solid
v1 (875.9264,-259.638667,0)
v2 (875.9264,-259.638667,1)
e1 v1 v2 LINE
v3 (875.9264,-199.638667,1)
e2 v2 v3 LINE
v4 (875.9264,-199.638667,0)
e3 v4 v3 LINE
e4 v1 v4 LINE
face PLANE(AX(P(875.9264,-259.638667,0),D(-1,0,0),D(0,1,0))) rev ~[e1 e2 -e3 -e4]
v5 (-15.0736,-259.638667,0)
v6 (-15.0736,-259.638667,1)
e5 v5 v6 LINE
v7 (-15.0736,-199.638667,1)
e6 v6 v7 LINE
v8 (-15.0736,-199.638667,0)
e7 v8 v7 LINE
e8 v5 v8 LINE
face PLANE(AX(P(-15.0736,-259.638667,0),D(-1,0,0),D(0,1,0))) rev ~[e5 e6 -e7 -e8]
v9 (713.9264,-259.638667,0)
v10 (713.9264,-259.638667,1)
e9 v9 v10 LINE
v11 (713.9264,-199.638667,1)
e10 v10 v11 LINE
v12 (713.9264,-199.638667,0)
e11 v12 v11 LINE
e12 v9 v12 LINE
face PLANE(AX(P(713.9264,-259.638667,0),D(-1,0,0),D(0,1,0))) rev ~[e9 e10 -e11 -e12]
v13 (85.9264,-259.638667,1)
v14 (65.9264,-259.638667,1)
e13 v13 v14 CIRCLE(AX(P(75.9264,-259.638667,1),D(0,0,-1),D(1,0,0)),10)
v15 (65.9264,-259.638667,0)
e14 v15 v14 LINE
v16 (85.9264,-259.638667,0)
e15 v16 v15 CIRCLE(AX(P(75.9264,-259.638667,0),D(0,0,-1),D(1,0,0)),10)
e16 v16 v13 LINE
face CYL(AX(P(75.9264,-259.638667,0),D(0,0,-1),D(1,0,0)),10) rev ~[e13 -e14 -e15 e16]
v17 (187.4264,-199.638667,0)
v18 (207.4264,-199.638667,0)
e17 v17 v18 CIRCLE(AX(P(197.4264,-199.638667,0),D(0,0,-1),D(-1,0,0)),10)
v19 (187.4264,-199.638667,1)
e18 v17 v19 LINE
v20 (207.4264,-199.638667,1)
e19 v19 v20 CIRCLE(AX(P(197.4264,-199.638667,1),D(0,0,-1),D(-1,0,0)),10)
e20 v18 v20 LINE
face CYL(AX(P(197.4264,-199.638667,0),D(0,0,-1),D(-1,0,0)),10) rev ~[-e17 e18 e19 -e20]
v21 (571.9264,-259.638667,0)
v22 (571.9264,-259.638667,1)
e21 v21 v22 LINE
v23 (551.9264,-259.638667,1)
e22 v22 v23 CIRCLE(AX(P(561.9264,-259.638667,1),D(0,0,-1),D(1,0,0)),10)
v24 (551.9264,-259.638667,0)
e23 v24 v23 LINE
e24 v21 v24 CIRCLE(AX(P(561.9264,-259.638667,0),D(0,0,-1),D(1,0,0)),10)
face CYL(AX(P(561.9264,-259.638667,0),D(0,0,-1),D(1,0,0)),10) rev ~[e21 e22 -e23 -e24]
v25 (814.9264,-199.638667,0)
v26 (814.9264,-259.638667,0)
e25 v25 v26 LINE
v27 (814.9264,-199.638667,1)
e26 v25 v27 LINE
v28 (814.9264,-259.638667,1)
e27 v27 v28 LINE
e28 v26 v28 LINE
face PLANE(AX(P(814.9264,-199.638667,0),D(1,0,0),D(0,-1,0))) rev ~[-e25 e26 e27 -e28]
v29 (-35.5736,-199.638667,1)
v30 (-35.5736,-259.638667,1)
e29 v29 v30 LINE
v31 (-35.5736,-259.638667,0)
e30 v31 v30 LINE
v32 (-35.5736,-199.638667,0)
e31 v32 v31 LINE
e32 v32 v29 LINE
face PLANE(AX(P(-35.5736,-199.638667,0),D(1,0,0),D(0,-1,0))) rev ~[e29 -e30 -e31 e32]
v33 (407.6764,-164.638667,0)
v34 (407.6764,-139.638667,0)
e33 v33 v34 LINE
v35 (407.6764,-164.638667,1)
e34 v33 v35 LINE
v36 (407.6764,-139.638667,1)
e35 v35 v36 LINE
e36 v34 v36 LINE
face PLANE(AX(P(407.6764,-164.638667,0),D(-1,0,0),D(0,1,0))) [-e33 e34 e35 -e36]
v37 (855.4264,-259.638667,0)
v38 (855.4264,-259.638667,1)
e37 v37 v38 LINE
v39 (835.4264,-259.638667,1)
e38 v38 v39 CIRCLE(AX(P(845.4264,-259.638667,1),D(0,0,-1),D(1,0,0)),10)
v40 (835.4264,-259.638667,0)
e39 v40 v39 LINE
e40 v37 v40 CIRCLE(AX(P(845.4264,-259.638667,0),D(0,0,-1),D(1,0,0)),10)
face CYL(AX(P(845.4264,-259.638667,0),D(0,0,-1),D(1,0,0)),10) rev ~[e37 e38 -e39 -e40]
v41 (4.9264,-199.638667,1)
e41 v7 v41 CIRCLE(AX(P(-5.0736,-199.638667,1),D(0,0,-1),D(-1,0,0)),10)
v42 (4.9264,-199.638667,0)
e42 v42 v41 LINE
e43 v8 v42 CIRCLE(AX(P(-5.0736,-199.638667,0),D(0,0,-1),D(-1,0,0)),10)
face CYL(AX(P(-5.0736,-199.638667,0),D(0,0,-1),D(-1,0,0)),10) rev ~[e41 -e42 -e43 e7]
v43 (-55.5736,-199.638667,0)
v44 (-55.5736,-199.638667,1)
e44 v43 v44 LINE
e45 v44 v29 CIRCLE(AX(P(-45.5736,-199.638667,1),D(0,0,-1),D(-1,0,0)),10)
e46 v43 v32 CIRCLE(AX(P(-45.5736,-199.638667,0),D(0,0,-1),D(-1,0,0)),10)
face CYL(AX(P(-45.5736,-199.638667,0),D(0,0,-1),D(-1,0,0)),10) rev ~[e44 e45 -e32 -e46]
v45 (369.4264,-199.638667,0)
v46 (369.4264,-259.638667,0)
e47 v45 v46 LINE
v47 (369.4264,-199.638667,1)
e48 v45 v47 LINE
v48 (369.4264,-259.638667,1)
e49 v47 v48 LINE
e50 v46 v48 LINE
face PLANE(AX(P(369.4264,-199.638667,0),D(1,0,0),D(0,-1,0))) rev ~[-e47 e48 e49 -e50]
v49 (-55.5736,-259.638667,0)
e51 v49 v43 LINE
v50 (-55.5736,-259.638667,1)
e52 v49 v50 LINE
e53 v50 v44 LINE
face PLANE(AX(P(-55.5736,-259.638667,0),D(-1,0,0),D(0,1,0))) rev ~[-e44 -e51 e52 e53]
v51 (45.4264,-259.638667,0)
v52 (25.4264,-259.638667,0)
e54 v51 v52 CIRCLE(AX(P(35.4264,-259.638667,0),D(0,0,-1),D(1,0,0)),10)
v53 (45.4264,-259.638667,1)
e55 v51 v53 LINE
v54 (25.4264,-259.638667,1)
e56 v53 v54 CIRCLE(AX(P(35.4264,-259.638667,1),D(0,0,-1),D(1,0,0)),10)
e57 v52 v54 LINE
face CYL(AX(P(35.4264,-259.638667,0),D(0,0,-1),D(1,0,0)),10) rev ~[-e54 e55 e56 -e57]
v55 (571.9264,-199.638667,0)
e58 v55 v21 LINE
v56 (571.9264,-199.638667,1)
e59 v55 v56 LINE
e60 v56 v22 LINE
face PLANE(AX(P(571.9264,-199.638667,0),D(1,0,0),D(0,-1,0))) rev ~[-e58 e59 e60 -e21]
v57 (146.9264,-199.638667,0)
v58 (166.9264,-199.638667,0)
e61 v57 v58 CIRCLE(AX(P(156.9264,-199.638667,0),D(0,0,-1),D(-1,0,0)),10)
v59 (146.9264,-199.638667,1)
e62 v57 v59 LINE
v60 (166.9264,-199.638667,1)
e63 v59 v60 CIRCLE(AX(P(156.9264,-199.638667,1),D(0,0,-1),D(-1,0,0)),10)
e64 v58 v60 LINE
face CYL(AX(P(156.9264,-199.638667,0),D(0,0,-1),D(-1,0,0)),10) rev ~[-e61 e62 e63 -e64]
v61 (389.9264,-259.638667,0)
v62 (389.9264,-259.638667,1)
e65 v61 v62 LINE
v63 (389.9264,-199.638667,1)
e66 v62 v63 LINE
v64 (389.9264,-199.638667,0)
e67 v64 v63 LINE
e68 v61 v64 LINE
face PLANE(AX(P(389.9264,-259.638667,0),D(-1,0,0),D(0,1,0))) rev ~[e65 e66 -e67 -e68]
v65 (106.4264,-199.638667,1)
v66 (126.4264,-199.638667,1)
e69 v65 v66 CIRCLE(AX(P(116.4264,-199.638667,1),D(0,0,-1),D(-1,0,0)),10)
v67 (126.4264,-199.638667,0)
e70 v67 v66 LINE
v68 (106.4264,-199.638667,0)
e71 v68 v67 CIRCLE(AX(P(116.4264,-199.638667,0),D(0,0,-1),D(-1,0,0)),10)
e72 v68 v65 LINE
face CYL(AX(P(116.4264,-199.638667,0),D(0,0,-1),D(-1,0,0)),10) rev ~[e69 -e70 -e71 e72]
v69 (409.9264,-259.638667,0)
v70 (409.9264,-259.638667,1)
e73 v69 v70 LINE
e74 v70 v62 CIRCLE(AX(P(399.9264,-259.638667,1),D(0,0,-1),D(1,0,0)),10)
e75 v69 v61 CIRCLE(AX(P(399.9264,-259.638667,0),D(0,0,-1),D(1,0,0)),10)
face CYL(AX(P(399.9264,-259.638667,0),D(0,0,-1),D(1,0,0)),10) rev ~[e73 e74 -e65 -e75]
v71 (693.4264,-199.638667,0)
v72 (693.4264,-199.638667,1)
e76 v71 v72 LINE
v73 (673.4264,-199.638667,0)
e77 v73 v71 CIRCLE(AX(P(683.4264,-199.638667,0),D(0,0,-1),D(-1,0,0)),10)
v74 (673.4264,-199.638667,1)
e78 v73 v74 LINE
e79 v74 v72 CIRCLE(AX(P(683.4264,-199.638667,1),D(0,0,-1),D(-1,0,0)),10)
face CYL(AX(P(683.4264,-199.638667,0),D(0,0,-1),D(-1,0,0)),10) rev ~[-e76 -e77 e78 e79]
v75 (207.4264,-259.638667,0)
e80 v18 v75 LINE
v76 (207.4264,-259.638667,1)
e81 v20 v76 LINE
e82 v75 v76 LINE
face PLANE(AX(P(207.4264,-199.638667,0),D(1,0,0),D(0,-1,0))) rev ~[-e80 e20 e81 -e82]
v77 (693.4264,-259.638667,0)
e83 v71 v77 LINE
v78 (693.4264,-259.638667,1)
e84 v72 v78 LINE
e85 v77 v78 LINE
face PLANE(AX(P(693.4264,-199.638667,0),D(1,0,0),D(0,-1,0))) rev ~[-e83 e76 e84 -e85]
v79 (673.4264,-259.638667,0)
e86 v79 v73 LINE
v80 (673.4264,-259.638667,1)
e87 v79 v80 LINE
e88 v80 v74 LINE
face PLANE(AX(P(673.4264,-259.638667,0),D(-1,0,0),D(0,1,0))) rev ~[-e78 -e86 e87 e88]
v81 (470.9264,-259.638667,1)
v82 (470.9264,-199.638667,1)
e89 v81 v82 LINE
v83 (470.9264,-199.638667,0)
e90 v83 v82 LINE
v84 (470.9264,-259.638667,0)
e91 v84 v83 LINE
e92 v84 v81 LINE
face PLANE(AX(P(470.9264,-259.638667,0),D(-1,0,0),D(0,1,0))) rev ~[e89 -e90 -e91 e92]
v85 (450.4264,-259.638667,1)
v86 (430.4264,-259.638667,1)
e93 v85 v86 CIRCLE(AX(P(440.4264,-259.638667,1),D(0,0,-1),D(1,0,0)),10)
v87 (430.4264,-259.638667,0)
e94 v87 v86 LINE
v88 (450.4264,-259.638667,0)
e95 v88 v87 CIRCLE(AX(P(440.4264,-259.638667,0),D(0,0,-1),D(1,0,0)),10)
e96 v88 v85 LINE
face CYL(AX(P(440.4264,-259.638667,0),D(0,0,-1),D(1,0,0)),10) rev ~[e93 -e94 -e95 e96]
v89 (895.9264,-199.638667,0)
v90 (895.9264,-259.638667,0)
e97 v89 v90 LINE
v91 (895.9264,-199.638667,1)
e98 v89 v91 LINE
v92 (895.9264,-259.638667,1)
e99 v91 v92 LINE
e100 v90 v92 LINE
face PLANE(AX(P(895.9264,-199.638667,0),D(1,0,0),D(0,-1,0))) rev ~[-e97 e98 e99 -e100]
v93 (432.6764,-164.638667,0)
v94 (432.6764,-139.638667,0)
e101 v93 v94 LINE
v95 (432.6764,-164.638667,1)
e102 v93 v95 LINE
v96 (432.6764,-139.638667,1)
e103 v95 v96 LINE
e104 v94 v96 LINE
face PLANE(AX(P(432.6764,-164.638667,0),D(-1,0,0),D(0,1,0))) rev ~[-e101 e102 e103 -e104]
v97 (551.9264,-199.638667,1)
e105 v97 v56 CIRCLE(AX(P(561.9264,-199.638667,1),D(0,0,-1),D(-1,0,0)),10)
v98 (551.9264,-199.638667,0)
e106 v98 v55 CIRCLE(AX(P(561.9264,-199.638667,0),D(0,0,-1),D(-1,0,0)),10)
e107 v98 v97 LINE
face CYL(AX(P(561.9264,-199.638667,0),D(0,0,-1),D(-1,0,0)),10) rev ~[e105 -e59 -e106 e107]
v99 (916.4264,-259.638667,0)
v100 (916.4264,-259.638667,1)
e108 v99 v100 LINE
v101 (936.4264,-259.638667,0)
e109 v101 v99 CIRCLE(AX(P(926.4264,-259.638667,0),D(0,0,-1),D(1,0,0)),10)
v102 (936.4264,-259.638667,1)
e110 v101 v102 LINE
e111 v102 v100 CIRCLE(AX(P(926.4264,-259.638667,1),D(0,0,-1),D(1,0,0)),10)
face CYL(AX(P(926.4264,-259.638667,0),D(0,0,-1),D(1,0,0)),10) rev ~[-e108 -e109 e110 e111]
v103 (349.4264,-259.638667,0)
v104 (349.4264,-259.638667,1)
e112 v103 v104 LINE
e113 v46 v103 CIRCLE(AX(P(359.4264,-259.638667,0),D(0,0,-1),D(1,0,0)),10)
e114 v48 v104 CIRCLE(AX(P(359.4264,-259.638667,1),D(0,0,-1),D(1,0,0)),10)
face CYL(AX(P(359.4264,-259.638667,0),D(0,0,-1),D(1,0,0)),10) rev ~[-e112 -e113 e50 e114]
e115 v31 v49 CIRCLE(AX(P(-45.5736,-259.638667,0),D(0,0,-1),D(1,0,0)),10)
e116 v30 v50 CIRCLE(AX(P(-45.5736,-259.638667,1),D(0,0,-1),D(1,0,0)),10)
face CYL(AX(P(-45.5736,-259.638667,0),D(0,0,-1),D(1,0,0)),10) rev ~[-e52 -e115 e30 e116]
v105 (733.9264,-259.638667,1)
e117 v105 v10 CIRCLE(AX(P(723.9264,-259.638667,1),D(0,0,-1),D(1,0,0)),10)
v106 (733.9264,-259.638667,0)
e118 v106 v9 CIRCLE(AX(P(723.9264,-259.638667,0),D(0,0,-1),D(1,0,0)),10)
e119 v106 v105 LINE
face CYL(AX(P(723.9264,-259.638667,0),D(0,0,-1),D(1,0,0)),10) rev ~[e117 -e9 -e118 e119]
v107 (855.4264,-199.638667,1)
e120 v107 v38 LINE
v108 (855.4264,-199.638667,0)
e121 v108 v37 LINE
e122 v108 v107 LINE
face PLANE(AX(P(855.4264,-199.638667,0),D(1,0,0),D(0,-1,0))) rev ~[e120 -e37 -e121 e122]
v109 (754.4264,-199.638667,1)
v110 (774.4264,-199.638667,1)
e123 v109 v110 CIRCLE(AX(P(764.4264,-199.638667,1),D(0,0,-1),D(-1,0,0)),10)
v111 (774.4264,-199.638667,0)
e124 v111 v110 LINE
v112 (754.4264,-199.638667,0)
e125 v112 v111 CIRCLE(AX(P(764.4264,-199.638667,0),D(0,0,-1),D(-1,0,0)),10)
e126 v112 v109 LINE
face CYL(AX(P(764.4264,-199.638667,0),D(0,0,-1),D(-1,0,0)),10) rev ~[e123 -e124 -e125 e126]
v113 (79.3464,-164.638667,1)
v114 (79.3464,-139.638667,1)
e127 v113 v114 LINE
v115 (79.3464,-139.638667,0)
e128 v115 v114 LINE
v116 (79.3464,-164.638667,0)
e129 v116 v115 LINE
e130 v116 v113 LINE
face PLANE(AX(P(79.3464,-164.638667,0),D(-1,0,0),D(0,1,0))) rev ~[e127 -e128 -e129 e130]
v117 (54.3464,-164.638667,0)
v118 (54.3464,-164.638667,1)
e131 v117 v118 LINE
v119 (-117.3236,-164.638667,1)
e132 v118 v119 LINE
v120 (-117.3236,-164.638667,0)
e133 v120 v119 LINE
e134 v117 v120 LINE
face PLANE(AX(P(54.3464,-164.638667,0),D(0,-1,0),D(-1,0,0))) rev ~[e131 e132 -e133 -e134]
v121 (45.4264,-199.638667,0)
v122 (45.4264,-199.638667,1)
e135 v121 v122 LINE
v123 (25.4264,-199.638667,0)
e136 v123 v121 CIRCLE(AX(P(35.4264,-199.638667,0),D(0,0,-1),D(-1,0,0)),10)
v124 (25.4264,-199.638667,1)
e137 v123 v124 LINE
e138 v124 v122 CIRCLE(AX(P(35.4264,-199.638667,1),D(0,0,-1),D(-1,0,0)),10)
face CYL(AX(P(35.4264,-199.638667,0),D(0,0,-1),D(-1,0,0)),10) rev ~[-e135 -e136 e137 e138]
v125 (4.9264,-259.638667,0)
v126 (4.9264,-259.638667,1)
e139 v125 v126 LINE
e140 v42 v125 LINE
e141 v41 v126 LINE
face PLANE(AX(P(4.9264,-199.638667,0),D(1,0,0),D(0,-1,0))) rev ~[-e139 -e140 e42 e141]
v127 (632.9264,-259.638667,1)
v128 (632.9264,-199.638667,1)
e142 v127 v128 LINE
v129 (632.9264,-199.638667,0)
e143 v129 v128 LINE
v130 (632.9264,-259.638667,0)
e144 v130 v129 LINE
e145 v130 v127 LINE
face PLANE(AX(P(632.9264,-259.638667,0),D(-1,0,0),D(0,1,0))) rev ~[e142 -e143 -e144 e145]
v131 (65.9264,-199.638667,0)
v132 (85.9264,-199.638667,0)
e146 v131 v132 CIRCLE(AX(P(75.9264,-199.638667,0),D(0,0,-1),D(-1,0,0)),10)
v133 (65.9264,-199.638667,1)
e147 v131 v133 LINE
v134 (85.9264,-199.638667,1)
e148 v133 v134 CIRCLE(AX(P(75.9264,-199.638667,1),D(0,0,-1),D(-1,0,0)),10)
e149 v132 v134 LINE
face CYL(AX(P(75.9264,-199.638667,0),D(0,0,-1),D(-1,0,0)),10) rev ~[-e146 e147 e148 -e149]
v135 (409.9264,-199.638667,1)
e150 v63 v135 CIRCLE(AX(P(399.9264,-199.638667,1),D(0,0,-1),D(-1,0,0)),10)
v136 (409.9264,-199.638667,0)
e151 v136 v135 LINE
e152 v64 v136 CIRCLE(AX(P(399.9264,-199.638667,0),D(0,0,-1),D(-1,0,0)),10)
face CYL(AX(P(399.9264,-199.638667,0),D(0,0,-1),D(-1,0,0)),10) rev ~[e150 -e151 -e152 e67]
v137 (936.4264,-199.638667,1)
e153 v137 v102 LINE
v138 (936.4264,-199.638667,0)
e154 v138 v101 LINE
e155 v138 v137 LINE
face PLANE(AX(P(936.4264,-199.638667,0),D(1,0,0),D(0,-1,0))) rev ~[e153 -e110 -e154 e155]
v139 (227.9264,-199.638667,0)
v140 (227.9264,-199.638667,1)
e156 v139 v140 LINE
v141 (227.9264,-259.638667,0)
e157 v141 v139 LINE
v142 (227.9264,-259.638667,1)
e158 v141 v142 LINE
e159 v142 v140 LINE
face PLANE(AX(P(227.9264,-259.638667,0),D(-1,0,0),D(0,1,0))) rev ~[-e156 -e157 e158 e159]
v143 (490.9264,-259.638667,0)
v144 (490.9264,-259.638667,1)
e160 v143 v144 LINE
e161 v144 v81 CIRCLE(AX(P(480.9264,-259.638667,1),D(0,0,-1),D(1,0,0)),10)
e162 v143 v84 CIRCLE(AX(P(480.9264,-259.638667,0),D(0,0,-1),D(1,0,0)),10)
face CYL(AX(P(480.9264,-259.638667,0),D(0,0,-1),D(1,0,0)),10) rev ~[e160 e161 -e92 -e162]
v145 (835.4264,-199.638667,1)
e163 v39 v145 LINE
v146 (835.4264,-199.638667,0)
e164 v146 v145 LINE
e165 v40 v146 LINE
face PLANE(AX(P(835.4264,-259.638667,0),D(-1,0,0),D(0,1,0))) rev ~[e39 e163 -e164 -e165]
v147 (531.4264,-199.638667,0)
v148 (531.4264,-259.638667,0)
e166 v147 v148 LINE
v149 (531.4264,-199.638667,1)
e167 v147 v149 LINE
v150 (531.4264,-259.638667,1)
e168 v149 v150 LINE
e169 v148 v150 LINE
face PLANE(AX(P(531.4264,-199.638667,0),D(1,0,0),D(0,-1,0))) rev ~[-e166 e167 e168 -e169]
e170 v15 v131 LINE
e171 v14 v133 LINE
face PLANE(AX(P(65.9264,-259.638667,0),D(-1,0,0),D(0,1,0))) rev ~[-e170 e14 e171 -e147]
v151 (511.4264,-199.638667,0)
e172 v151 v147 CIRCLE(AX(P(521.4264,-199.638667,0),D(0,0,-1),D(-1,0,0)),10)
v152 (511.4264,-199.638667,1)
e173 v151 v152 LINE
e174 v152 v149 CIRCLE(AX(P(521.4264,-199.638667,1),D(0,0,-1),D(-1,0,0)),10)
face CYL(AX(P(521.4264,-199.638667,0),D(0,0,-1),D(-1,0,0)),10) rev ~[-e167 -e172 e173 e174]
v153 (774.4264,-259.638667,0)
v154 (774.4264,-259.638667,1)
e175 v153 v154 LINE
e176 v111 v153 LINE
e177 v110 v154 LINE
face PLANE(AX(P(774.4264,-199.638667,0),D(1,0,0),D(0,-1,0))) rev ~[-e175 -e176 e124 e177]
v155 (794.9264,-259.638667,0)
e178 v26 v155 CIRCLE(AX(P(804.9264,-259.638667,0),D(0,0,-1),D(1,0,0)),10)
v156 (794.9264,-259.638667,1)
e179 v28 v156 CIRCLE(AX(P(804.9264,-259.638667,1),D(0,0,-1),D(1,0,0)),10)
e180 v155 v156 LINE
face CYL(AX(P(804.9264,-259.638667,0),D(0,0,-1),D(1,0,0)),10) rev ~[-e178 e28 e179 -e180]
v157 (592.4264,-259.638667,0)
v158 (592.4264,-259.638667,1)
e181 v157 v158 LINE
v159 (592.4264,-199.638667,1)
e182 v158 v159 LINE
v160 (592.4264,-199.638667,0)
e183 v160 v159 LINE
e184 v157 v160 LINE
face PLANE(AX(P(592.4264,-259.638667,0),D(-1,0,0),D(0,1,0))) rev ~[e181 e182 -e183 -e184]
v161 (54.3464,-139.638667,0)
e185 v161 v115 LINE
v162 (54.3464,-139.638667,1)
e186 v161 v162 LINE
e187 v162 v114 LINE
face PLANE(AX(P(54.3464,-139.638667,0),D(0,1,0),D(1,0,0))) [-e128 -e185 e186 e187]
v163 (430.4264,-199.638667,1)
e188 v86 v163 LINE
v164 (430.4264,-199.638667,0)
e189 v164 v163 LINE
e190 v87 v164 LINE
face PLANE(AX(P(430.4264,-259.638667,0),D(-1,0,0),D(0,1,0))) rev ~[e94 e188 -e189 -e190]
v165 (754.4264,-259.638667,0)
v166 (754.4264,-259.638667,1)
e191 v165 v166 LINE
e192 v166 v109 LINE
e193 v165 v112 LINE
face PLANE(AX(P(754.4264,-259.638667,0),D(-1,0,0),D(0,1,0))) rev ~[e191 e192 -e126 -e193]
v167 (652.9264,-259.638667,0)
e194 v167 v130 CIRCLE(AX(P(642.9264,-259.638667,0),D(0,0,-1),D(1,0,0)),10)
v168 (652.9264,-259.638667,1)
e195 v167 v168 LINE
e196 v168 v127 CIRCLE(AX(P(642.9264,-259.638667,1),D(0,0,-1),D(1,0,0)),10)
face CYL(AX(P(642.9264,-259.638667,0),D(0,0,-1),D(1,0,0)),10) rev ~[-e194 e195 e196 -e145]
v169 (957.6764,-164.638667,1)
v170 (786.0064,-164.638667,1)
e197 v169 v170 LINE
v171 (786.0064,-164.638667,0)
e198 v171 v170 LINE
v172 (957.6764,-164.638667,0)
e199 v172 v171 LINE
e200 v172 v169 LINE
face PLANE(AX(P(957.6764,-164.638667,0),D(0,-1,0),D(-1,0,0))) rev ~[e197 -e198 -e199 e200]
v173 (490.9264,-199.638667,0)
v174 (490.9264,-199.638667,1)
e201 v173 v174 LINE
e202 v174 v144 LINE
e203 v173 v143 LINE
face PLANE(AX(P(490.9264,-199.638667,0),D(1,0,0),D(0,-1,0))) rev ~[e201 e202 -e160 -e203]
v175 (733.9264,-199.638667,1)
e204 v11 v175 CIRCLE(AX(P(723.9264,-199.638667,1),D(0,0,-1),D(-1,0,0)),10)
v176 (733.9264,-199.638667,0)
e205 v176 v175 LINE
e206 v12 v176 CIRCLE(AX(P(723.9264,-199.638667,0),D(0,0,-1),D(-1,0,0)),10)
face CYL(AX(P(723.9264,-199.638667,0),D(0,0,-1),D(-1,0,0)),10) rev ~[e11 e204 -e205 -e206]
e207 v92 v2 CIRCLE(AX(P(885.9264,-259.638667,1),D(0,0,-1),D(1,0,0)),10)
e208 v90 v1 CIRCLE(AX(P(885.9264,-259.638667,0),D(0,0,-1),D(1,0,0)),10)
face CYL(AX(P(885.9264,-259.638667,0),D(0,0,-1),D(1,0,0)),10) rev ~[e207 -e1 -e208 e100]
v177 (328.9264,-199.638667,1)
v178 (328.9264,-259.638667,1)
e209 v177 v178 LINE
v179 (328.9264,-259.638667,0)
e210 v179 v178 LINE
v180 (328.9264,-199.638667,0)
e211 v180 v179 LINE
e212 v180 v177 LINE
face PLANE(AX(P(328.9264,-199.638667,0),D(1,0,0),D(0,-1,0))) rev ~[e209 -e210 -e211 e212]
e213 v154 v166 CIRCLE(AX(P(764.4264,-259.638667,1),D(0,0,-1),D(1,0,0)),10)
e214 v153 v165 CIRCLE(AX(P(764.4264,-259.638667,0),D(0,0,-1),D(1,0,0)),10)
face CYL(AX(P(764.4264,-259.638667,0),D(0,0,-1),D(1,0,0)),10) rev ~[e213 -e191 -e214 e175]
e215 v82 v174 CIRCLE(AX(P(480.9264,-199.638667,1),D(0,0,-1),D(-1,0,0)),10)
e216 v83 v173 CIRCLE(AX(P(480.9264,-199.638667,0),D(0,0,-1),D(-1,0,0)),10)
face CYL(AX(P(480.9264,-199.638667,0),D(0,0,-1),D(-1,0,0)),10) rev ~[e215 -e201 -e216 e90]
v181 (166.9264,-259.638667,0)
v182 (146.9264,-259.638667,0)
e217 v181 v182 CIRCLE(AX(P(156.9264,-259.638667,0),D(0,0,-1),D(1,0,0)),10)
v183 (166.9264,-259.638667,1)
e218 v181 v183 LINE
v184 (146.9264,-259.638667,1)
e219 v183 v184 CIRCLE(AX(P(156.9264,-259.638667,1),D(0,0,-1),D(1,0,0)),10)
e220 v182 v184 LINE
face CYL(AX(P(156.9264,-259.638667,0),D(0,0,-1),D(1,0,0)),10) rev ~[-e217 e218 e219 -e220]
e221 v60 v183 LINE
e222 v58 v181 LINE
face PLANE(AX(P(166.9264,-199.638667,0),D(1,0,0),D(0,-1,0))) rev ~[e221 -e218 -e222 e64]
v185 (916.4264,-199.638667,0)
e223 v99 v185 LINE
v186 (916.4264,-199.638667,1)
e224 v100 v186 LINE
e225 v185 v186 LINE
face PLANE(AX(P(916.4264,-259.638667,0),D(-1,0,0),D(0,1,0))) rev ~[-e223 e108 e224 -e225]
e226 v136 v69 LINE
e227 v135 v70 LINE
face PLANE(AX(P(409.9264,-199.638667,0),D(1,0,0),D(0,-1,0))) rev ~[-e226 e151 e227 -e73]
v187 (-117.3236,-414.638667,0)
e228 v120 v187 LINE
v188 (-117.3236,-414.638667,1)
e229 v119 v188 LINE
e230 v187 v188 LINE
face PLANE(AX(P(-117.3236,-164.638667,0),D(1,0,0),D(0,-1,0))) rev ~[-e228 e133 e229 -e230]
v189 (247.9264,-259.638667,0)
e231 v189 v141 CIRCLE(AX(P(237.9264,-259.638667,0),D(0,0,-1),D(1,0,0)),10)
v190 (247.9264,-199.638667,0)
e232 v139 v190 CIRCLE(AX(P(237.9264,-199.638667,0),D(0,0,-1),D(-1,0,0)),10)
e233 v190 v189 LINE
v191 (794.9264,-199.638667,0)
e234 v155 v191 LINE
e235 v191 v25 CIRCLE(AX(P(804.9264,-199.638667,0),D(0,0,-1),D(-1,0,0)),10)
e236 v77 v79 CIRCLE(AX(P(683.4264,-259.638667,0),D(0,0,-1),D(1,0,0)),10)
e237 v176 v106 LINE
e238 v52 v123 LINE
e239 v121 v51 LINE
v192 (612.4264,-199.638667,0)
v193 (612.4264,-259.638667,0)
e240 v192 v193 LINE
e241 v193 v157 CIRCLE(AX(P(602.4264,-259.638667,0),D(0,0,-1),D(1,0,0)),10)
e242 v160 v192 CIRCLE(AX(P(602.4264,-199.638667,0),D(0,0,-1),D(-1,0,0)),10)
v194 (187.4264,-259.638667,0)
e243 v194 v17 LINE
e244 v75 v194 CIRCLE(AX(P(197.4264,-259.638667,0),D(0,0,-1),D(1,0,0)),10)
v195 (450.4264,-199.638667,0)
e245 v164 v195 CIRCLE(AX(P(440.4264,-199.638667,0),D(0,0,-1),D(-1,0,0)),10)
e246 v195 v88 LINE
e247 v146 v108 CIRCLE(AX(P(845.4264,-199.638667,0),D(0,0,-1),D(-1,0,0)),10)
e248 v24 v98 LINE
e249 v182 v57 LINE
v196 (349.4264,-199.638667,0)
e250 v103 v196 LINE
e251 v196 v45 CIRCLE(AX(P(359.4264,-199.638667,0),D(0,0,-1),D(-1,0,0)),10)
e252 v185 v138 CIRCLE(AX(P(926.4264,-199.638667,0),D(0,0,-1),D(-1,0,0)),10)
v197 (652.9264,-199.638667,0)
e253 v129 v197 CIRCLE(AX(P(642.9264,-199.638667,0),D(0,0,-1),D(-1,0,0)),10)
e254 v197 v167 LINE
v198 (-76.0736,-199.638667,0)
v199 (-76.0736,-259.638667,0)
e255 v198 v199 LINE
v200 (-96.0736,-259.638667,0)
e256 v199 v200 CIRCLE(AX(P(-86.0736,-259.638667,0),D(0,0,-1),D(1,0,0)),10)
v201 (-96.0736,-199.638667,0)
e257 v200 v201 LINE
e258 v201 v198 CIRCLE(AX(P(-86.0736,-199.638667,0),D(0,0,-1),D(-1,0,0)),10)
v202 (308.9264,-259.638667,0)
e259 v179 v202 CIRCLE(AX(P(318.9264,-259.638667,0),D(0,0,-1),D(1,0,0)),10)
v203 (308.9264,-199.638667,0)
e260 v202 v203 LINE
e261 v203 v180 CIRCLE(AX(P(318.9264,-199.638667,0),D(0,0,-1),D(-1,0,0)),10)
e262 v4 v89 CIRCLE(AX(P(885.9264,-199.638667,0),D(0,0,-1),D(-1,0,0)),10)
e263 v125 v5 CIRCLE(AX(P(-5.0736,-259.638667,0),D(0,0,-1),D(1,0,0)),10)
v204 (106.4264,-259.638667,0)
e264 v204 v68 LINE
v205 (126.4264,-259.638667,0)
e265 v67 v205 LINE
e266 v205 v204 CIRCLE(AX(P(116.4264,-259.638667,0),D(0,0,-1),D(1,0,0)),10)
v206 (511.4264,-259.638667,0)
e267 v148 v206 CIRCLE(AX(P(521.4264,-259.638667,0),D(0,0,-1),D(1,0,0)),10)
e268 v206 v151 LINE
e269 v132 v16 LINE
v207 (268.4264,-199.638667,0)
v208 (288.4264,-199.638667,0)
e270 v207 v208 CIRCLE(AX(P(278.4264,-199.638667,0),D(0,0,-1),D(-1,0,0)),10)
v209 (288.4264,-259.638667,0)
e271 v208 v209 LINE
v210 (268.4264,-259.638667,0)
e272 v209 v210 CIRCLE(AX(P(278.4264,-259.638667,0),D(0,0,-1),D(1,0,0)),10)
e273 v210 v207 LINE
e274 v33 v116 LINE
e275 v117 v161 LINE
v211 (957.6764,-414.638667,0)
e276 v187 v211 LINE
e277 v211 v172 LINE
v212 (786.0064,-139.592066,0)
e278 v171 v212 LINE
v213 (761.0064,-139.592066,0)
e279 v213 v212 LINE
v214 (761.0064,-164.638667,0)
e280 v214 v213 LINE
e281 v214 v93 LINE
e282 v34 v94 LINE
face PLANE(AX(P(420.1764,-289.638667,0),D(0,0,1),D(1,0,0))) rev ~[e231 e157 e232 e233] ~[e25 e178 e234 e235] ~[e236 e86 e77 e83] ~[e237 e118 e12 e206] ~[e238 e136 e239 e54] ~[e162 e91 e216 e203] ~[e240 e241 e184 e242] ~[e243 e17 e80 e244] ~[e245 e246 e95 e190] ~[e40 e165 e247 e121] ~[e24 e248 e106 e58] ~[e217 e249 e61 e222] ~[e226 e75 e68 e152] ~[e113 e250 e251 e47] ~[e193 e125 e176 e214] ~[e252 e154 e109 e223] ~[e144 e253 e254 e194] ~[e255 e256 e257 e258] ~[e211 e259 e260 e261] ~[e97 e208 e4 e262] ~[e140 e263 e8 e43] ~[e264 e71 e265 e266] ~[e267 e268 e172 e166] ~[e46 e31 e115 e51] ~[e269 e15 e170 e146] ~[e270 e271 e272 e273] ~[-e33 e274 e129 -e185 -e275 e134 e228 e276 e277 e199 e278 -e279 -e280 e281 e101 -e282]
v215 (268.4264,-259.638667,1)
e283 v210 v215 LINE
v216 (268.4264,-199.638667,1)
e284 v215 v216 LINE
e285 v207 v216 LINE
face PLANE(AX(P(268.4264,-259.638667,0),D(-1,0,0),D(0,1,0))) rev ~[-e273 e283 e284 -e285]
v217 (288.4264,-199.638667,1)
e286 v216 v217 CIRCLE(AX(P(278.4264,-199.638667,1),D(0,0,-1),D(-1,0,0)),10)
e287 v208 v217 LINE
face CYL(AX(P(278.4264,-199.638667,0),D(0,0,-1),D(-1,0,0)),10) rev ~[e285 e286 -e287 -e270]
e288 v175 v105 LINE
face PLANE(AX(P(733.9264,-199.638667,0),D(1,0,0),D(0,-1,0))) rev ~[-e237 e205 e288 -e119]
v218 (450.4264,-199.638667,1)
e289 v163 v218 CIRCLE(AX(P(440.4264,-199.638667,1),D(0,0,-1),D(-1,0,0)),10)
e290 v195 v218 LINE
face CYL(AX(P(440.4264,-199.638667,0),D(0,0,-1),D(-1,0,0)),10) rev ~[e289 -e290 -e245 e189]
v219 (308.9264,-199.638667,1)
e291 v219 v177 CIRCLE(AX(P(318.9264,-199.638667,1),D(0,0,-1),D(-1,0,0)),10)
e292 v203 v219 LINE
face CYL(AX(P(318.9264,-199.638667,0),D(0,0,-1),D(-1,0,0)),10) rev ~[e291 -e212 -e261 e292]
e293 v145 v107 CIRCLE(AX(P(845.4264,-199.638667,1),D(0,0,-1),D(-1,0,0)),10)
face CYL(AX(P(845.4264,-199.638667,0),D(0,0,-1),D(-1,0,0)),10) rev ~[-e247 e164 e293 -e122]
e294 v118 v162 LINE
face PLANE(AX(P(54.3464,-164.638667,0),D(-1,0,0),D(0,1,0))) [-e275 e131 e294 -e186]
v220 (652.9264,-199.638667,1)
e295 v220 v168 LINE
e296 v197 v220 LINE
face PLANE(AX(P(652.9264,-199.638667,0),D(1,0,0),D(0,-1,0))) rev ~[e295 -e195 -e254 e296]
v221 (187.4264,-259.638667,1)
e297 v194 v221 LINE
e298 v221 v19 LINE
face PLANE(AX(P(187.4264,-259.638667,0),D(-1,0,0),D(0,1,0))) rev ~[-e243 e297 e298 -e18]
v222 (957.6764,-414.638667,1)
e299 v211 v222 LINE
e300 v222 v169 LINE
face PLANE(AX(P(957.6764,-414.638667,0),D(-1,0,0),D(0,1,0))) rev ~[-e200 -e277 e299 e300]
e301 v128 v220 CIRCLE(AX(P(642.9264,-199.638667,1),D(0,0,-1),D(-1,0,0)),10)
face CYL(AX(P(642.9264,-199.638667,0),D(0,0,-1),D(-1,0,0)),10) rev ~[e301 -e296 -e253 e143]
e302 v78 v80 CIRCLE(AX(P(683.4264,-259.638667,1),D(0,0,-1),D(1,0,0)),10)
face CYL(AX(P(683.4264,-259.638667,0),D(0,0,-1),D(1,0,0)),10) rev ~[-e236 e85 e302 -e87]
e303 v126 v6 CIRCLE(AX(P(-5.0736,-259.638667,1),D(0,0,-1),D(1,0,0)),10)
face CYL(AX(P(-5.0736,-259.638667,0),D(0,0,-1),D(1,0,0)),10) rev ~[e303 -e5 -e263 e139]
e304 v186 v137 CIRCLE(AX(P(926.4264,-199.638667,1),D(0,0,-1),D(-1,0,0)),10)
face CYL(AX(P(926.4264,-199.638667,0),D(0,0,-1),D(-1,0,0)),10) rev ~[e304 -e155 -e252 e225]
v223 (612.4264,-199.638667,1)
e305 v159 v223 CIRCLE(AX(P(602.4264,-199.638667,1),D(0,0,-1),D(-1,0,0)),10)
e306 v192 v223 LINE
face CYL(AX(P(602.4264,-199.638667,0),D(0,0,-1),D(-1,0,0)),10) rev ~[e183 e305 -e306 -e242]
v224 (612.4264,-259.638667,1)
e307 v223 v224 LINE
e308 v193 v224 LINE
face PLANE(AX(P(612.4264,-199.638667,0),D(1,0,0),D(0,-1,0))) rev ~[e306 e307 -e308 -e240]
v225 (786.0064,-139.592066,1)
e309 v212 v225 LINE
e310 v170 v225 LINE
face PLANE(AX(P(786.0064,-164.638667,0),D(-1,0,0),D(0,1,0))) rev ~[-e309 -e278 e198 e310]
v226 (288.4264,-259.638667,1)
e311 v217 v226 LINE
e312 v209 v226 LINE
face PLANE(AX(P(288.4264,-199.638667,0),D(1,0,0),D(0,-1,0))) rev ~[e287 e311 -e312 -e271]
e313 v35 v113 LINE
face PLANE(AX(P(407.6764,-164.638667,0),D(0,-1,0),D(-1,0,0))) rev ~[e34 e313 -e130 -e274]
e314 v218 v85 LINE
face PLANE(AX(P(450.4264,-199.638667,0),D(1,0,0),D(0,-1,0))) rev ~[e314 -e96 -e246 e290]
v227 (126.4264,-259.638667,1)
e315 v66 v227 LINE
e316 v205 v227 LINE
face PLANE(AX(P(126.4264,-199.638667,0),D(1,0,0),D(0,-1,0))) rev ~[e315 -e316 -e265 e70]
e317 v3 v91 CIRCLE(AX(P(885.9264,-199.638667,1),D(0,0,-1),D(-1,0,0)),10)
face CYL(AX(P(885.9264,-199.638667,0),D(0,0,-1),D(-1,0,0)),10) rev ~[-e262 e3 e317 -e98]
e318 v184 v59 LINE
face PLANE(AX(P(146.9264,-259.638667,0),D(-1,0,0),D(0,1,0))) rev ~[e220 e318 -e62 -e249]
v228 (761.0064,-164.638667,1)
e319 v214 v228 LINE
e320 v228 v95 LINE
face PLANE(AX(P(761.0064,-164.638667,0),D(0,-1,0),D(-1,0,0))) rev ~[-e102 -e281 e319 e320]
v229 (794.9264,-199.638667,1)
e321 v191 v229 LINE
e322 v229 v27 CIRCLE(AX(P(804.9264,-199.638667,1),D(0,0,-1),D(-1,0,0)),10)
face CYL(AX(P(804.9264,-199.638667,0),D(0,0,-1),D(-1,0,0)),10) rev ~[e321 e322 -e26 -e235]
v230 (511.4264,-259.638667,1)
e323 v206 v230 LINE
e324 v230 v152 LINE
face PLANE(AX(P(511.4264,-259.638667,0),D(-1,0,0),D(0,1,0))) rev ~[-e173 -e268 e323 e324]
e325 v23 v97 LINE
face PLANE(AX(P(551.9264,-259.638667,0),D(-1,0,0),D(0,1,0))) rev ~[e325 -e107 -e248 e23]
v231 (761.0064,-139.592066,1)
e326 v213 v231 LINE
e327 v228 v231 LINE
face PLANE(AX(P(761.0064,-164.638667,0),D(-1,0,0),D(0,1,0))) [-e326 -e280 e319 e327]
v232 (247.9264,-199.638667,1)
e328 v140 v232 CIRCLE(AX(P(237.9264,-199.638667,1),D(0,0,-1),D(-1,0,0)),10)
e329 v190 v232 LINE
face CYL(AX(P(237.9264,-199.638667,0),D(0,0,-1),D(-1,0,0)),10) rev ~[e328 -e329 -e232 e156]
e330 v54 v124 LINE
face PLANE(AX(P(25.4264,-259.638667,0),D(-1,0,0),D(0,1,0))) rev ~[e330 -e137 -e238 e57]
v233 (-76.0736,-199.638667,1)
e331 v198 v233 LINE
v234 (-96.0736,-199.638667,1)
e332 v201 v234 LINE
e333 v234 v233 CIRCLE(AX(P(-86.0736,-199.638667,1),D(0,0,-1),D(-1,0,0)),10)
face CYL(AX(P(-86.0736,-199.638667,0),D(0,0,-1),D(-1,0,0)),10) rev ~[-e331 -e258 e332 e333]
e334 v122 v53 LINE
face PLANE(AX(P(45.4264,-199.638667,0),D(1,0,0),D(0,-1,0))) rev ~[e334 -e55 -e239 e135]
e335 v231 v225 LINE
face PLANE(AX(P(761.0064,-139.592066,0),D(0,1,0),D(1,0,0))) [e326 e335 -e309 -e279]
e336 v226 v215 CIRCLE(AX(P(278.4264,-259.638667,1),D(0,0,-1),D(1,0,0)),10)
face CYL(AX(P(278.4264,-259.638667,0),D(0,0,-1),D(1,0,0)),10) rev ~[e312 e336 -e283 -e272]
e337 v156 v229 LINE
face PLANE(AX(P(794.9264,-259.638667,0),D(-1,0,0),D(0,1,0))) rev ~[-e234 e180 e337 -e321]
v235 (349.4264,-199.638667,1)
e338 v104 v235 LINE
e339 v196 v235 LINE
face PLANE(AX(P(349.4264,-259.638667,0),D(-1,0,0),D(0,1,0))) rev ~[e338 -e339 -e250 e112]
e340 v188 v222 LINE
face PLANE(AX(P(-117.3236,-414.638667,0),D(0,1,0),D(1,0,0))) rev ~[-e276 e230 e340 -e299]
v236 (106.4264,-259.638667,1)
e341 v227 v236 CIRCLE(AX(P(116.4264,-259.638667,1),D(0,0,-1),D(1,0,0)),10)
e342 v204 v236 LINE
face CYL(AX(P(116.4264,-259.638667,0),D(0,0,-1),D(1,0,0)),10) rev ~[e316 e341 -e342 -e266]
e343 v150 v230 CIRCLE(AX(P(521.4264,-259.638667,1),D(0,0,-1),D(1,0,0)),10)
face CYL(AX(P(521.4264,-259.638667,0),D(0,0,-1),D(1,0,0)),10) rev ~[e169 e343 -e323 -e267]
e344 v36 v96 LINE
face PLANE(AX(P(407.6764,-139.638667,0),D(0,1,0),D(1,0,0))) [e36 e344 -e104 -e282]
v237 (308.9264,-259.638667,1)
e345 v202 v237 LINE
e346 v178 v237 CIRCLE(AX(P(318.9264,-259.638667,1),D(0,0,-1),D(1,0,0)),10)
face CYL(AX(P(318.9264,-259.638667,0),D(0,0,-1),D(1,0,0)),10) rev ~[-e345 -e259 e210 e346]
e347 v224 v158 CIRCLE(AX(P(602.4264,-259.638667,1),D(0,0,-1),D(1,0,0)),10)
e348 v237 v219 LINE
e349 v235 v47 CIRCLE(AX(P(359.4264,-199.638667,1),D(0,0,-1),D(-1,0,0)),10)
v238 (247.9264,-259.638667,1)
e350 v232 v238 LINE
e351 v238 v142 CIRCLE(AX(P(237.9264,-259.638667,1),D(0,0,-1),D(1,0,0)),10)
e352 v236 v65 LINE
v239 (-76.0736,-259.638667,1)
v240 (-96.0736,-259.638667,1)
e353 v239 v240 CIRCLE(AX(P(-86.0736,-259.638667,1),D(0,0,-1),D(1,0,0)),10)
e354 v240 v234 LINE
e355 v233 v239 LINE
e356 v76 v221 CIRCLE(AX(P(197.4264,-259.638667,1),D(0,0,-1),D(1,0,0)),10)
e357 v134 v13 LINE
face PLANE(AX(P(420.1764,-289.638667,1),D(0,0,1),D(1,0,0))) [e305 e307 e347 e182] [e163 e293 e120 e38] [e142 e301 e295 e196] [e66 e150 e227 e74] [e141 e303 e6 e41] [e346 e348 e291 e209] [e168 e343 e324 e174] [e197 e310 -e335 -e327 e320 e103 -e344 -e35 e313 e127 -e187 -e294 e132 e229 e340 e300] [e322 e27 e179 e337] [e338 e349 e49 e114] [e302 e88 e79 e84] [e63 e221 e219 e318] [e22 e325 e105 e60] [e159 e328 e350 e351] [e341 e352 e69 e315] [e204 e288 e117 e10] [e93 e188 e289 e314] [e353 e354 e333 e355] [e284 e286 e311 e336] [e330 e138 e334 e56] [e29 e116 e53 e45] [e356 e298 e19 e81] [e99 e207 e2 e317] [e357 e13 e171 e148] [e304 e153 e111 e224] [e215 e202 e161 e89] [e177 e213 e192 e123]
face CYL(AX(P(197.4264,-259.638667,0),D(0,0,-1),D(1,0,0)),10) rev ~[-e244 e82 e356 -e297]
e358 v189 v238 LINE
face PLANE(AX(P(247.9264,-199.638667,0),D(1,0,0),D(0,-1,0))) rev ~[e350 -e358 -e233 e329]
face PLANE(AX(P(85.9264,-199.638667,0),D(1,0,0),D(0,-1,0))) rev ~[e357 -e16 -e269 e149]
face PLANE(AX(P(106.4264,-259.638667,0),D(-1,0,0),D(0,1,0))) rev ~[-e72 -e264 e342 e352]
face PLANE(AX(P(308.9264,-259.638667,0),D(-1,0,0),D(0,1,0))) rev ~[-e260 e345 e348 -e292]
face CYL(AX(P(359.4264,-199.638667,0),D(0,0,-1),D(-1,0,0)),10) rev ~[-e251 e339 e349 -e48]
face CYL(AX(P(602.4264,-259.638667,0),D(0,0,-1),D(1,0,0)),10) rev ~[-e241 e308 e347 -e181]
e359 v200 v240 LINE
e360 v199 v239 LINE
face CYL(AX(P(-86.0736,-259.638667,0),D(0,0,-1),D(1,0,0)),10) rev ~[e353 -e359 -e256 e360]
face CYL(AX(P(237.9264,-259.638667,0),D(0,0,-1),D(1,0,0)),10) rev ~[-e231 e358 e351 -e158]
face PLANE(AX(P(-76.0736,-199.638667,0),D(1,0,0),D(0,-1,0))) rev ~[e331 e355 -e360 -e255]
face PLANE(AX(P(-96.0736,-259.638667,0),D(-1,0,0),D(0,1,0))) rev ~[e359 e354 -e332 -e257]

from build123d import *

# Parameters (mm, degrees)
F0_W     = 25
F0_H     = 25
F0_H_2   = 25.0466006994
F1_DEPTH = 1


with BuildPart() as f1:
    # F0 (on Top) → F1 (new body)
    with BuildSketch(Plane.XY):
        Polygon((54.3464002442, -164.6386671066), (-117.3235997558, -164.6386671066), (-117.3235997558, -414.6386671066), (957.6764002442, -414.6386671066), (957.6764002442, -164.6386671066), (786.0064002442, -164.6386671066), (761.0064002442, -164.6386671066), (432.6764002442, -164.6386671066), (407.6764002442, -164.6386671066), (79.3464002442, -164.6386671066), align=None)
        with BuildLine():
            ThreePointArc((-96.0735997558, -199.6386671066), (-86.0735997558, -189.6386671066), (-76.0735997558, -199.6386671066))
            Line((-76.0735997558, -199.6386671066), (-76.0735997558, -259.6386671066))
            ThreePointArc((-76.0735997558, -259.6386671066), (-86.0735997558, -269.6386671066), (-96.0735997558, -259.6386671066))
            Line((-96.0735997558, -259.6386671066), (-96.0735997558, -199.6386671066))
        make_face(mode=Mode.SUBTRACT)
        with BuildLine():
            ThreePointArc((-55.5735997558, -199.6386671066), (-45.5735997558, -189.6386671066), (-35.5735997558, -199.6386671066))
            Line((-35.5735997558, -199.6386671066), (-35.5735997558, -259.6386671066))
            ThreePointArc((-35.5735997558, -259.6386671066), (-45.5735997558, -269.6386671066), (-55.5735997558, -259.6386671066))
            Line((-55.5735997558, -259.6386671066), (-55.5735997558, -199.6386671066))
        make_face(mode=Mode.SUBTRACT)
        with BuildLine():
            ThreePointArc((-15.0735997558, -199.6386671066), (-5.0735997558, -189.6386671066), (4.9264002442, -199.6386671066))
            Line((4.9264002442, -199.6386671066), (4.9264002442, -259.6386671066))
            ThreePointArc((4.9264002442, -259.6386671066), (-5.0735997558, -269.6386671066), (-15.0735997558, -259.6386671066))
            Line((-15.0735997558, -259.6386671066), (-15.0735997558, -199.6386671066))
        make_face(mode=Mode.SUBTRACT)
        with BuildLine():
            ThreePointArc((25.4264002442, -199.6386671066), (35.4264002442, -189.6386671066), (45.4264002442, -199.6386671066))
            Line((45.4264002442, -199.6386671066), (45.4264002442, -259.6386671066))
            ThreePointArc((45.4264002442, -259.6386671066), (35.4264002442, -269.6386671066), (25.4264002442, -259.6386671066))
            Line((25.4264002442, -259.6386671066), (25.4264002442, -199.6386671066))
        make_face(mode=Mode.SUBTRACT)
        with BuildLine():
            ThreePointArc((65.9264002442, -199.6386671066), (75.9264002442, -189.6386671066), (85.9264002442, -199.6386671066))
            Line((85.9264002442, -199.6386671066), (85.9264002442, -259.6386671066))
            ThreePointArc((85.9264002442, -259.6386671066), (75.9264002442, -269.6386671066), (65.9264002442, -259.6386671066))
            Line((65.9264002442, -259.6386671066), (65.9264002442, -199.6386671066))
        make_face(mode=Mode.SUBTRACT)
        with BuildLine():
            ThreePointArc((106.4264002442, -199.6386671066), (116.4264002442, -189.6386671066), (126.4264002442, -199.6386671066))
            Line((126.4264002442, -199.6386671066), (126.4264002442, -259.6386671066))
            ThreePointArc((126.4264002442, -259.6386671066), (116.4264002442, -269.6386671066), (106.4264002442, -259.6386671066))
            Line((106.4264002442, -259.6386671066), (106.4264002442, -199.6386671066))
        make_face(mode=Mode.SUBTRACT)
        with BuildLine():
            ThreePointArc((146.9264002442, -199.6386671066), (156.9264002442, -189.6386671066), (166.9264002442, -199.6386671066))
            Line((166.9264002442, -199.6386671066), (166.9264002442, -259.6386671066))
            ThreePointArc((166.9264002442, -259.6386671066), (156.9264002442, -269.6386671066), (146.9264002442, -259.6386671066))
            Line((146.9264002442, -259.6386671066), (146.9264002442, -199.6386671066))
        make_face(mode=Mode.SUBTRACT)
        with BuildLine():
            ThreePointArc((187.4264002442, -199.6386671066), (197.4264002442, -189.6386671066), (207.4264002442, -199.6386671066))
            Line((207.4264002442, -199.6386671066), (207.4264002442, -259.6386671066))
            ThreePointArc((207.4264002442, -259.6386671066), (197.4264002442, -269.6386671066), (187.4264002442, -259.6386671066))
            Line((187.4264002442, -259.6386671066), (187.4264002442, -199.6386671066))
        make_face(mode=Mode.SUBTRACT)
        with BuildLine():
            ThreePointArc((227.9264002442, -199.6386671066), (237.9264002442, -189.6386671066), (247.9264002442, -199.6386671066))
            Line((247.9264002442, -199.6386671066), (247.9264002442, -259.6386671066))
            ThreePointArc((247.9264002442, -259.6386671066), (237.9264002442, -269.6386671066), (227.9264002442, -259.6386671066))
            Line((227.9264002442, -259.6386671066), (227.9264002442, -199.6386671066))
        make_face(mode=Mode.SUBTRACT)
        with BuildLine():
            ThreePointArc((268.4264002442, -199.6386671066), (278.4264002442, -189.6386671066), (288.4264002442, -199.6386671066))
            Line((288.4264002442, -199.6386671066), (288.4264002442, -259.6386671066))
            ThreePointArc((288.4264002442, -259.6386671066), (278.4264002442, -269.6386671066), (268.4264002442, -259.6386671066))
            Line((268.4264002442, -259.6386671066), (268.4264002442, -199.6386671066))
        make_face(mode=Mode.SUBTRACT)
        with BuildLine():
            ThreePointArc((308.9264002442, -199.6386671066), (318.9264002442, -189.6386671066), (328.9264002442, -199.6386671066))
            Line((328.9264002442, -199.6386671066), (328.9264002442, -259.6386671066))
            ThreePointArc((328.9264002442, -259.6386671066), (318.9264002442, -269.6386671066), (308.9264002442, -259.6386671066))
            Line((308.9264002442, -259.6386671066), (308.9264002442, -199.6386671066))
        make_face(mode=Mode.SUBTRACT)
        with BuildLine():
            ThreePointArc((349.4264002442, -199.6386671066), (359.4264002442, -189.6386671066), (369.4264002442, -199.6386671066))
            Line((369.4264002442, -199.6386671066), (369.4264002442, -259.6386671066))
            ThreePointArc((369.4264002442, -259.6386671066), (359.4264002442, -269.6386671066), (349.4264002442, -259.6386671066))
            Line((349.4264002442, -259.6386671066), (349.4264002442, -199.6386671066))
        make_face(mode=Mode.SUBTRACT)
        with BuildLine():
            ThreePointArc((389.9264002442, -199.6386671066), (399.9264002442, -189.6386671066), (409.9264002442, -199.6386671066))
            Line((409.9264002442, -199.6386671066), (409.9264002442, -259.6386671066))
            ThreePointArc((409.9264002442, -259.6386671066), (399.9264002442, -269.6386671066), (389.9264002442, -259.6386671066))
            Line((389.9264002442, -259.6386671066), (389.9264002442, -199.6386671066))
        make_face(mode=Mode.SUBTRACT)
        with BuildLine():
            ThreePointArc((430.4264002442, -199.6386671066), (440.4264002442, -189.6386671066), (450.4264002442, -199.6386671066))
            Line((450.4264002442, -199.6386671066), (450.4264002442, -259.6386671066))
            ThreePointArc((450.4264002442, -259.6386671066), (440.4264002442, -269.6386671066), (430.4264002442, -259.6386671066))
            Line((430.4264002442, -259.6386671066), (430.4264002442, -199.6386671066))
        make_face(mode=Mode.SUBTRACT)
        with BuildLine():
            ThreePointArc((470.9264002442, -199.6386671066), (480.9264002442, -189.6386671066), (490.9264002442, -199.6386671066))
            Line((490.9264002442, -199.6386671066), (490.9264002442, -259.6386671066))
            ThreePointArc((490.9264002442, -259.6386671066), (480.9264002442, -269.6386671066), (470.9264002442, -259.6386671066))
            Line((470.9264002442, -259.6386671066), (470.9264002442, -199.6386671066))
        make_face(mode=Mode.SUBTRACT)
        with BuildLine():
            ThreePointArc((511.4264002442, -199.6386671066), (521.4264002442, -189.6386671066), (531.4264002442, -199.6386671066))
            Line((531.4264002442, -199.6386671066), (531.4264002442, -259.6386671066))
            ThreePointArc((531.4264002442, -259.6386671066), (521.4264002442, -269.6386671066), (511.4264002442, -259.6386671066))
            Line((511.4264002442, -259.6386671066), (511.4264002442, -199.6386671066))
        make_face(mode=Mode.SUBTRACT)
        with BuildLine():
            ThreePointArc((551.9264002442, -199.6386671066), (561.9264002442, -189.6386671066), (571.9264002442, -199.6386671066))
            Line((571.9264002442, -199.6386671066), (571.9264002442, -259.6386671066))
            ThreePointArc((571.9264002442, -259.6386671066), (561.9264002442, -269.6386671066), (551.9264002442, -259.6386671066))
            Line((551.9264002442, -259.6386671066), (551.9264002442, -199.6386671066))
        make_face(mode=Mode.SUBTRACT)
        with BuildLine():
            ThreePointArc((592.4264002442, -199.6386671066), (602.4264002442, -189.6386671066), (612.4264002442, -199.6386671066))
            Line((612.4264002442, -199.6386671066), (612.4264002442, -259.6386671066))
            ThreePointArc((612.4264002442, -259.6386671066), (602.4264002442, -269.6386671066), (592.4264002442, -259.6386671066))
            Line((592.4264002442, -259.6386671066), (592.4264002442, -199.6386671066))
        make_face(mode=Mode.SUBTRACT)
        with BuildLine():
            ThreePointArc((632.9264002442, -199.6386671066), (642.9264002442, -189.6386671066), (652.9264002442, -199.6386671066))
            Line((652.9264002442, -199.6386671066), (652.9264002442, -259.6386671066))
            ThreePointArc((652.9264002442, -259.6386671066), (642.9264002442, -269.6386671066), (632.9264002442, -259.6386671066))
            Line((632.9264002442, -259.6386671066), (632.9264002442, -199.6386671066))
        make_face(mode=Mode.SUBTRACT)
        with BuildLine():
            ThreePointArc((673.4264002442, -199.6386671066), (683.4264002442, -189.6386671066), (693.4264002442, -199.6386671066))
            Line((693.4264002442, -199.6386671066), (693.4264002442, -259.6386671066))
            ThreePointArc((693.4264002442, -259.6386671066), (683.4264002442, -269.6386671066), (673.4264002442, -259.6386671066))
            Line((673.4264002442, -259.6386671066), (673.4264002442, -199.6386671066))
        make_face(mode=Mode.SUBTRACT)
        with BuildLine():
            ThreePointArc((713.9264002442, -199.6386671066), (723.9264002442, -189.6386671066), (733.9264002442, -199.6386671066))
            Line((733.9264002442, -199.6386671066), (733.9264002442, -259.6386671066))
            ThreePointArc((733.9264002442, -259.6386671066), (723.9264002442, -269.6386671066), (713.9264002442, -259.6386671066))
            Line((713.9264002442, -259.6386671066), (713.9264002442, -199.6386671066))
        make_face(mode=Mode.SUBTRACT)
        with BuildLine():
            ThreePointArc((754.4264002442, -199.6386671066), (764.4264002442, -189.6386671066), (774.4264002442, -199.6386671066))
            Line((774.4264002442, -199.6386671066), (774.4264002442, -259.6386671066))
            ThreePointArc((774.4264002442, -259.6386671066), (764.4264002442, -269.6386671066), (754.4264002442, -259.6386671066))
            Line((754.4264002442, -259.6386671066), (754.4264002442, -199.6386671066))
        make_face(mode=Mode.SUBTRACT)
        with BuildLine():
            ThreePointArc((794.9264002442, -199.6386671066), (804.9264002442, -189.6386671066), (814.9264002442, -199.6386671066))
            Line((814.9264002442, -199.6386671066), (814.9264002442, -259.6386671066))
            ThreePointArc((814.9264002442, -259.6386671066), (804.9264002442, -269.6386671066), (794.9264002442, -259.6386671066))
            Line((794.9264002442, -259.6386671066), (794.9264002442, -199.6386671066))
        make_face(mode=Mode.SUBTRACT)
        with BuildLine():
            ThreePointArc((835.4264002442, -199.6386671066), (845.4264002442, -189.6386671066), (855.4264002442, -199.6386671066))
            Line((855.4264002442, -199.6386671066), (855.4264002442, -259.6386671066))
            ThreePointArc((855.4264002442, -259.6386671066), (845.4264002442, -269.6386671066), (835.4264002442, -259.6386671066))
            Line((835.4264002442, -259.6386671066), (835.4264002442, -199.6386671066))
        make_face(mode=Mode.SUBTRACT)
        with BuildLine():
            ThreePointArc((875.9264002442, -199.6386671066), (885.9264002442, -189.6386671066), (895.9264002442, -199.6386671066))
            Line((895.9264002442, -199.6386671066), (895.9264002442, -259.6386671066))
            ThreePointArc((895.9264002442, -259.6386671066), (885.9264002442, -269.6386671066), (875.9264002442, -259.6386671066))
            Line((875.9264002442, -259.6386671066), (875.9264002442, -199.6386671066))
        make_face(mode=Mode.SUBTRACT)
        with BuildLine():
            ThreePointArc((916.4264002442, -199.6386671066), (926.4264002442, -189.6386671066), (936.4264002442, -199.6386671066))
            Line((936.4264002442, -199.6386671066), (936.4264002442, -259.6386671066))
            ThreePointArc((936.4264002442, -259.6386671066), (926.4264002442, -269.6386671066), (916.4264002442, -259.6386671066))
            Line((916.4264002442, -259.6386671066), (916.4264002442, -199.6386671066))
        make_face(mode=Mode.SUBTRACT)
        with Locations((66.8464002442, -152.1386671066)):
            Rectangle(F0_W, F0_H)
        with Locations((420.1764002442, -152.1386671066)):
            Rectangle(F0_W, F0_H)
        with Locations((773.5064002442, -152.1153667569)):
            Rectangle(F0_W, F0_H_2)
    extrude(amount=F1_DEPTH)


solid = f1.part
